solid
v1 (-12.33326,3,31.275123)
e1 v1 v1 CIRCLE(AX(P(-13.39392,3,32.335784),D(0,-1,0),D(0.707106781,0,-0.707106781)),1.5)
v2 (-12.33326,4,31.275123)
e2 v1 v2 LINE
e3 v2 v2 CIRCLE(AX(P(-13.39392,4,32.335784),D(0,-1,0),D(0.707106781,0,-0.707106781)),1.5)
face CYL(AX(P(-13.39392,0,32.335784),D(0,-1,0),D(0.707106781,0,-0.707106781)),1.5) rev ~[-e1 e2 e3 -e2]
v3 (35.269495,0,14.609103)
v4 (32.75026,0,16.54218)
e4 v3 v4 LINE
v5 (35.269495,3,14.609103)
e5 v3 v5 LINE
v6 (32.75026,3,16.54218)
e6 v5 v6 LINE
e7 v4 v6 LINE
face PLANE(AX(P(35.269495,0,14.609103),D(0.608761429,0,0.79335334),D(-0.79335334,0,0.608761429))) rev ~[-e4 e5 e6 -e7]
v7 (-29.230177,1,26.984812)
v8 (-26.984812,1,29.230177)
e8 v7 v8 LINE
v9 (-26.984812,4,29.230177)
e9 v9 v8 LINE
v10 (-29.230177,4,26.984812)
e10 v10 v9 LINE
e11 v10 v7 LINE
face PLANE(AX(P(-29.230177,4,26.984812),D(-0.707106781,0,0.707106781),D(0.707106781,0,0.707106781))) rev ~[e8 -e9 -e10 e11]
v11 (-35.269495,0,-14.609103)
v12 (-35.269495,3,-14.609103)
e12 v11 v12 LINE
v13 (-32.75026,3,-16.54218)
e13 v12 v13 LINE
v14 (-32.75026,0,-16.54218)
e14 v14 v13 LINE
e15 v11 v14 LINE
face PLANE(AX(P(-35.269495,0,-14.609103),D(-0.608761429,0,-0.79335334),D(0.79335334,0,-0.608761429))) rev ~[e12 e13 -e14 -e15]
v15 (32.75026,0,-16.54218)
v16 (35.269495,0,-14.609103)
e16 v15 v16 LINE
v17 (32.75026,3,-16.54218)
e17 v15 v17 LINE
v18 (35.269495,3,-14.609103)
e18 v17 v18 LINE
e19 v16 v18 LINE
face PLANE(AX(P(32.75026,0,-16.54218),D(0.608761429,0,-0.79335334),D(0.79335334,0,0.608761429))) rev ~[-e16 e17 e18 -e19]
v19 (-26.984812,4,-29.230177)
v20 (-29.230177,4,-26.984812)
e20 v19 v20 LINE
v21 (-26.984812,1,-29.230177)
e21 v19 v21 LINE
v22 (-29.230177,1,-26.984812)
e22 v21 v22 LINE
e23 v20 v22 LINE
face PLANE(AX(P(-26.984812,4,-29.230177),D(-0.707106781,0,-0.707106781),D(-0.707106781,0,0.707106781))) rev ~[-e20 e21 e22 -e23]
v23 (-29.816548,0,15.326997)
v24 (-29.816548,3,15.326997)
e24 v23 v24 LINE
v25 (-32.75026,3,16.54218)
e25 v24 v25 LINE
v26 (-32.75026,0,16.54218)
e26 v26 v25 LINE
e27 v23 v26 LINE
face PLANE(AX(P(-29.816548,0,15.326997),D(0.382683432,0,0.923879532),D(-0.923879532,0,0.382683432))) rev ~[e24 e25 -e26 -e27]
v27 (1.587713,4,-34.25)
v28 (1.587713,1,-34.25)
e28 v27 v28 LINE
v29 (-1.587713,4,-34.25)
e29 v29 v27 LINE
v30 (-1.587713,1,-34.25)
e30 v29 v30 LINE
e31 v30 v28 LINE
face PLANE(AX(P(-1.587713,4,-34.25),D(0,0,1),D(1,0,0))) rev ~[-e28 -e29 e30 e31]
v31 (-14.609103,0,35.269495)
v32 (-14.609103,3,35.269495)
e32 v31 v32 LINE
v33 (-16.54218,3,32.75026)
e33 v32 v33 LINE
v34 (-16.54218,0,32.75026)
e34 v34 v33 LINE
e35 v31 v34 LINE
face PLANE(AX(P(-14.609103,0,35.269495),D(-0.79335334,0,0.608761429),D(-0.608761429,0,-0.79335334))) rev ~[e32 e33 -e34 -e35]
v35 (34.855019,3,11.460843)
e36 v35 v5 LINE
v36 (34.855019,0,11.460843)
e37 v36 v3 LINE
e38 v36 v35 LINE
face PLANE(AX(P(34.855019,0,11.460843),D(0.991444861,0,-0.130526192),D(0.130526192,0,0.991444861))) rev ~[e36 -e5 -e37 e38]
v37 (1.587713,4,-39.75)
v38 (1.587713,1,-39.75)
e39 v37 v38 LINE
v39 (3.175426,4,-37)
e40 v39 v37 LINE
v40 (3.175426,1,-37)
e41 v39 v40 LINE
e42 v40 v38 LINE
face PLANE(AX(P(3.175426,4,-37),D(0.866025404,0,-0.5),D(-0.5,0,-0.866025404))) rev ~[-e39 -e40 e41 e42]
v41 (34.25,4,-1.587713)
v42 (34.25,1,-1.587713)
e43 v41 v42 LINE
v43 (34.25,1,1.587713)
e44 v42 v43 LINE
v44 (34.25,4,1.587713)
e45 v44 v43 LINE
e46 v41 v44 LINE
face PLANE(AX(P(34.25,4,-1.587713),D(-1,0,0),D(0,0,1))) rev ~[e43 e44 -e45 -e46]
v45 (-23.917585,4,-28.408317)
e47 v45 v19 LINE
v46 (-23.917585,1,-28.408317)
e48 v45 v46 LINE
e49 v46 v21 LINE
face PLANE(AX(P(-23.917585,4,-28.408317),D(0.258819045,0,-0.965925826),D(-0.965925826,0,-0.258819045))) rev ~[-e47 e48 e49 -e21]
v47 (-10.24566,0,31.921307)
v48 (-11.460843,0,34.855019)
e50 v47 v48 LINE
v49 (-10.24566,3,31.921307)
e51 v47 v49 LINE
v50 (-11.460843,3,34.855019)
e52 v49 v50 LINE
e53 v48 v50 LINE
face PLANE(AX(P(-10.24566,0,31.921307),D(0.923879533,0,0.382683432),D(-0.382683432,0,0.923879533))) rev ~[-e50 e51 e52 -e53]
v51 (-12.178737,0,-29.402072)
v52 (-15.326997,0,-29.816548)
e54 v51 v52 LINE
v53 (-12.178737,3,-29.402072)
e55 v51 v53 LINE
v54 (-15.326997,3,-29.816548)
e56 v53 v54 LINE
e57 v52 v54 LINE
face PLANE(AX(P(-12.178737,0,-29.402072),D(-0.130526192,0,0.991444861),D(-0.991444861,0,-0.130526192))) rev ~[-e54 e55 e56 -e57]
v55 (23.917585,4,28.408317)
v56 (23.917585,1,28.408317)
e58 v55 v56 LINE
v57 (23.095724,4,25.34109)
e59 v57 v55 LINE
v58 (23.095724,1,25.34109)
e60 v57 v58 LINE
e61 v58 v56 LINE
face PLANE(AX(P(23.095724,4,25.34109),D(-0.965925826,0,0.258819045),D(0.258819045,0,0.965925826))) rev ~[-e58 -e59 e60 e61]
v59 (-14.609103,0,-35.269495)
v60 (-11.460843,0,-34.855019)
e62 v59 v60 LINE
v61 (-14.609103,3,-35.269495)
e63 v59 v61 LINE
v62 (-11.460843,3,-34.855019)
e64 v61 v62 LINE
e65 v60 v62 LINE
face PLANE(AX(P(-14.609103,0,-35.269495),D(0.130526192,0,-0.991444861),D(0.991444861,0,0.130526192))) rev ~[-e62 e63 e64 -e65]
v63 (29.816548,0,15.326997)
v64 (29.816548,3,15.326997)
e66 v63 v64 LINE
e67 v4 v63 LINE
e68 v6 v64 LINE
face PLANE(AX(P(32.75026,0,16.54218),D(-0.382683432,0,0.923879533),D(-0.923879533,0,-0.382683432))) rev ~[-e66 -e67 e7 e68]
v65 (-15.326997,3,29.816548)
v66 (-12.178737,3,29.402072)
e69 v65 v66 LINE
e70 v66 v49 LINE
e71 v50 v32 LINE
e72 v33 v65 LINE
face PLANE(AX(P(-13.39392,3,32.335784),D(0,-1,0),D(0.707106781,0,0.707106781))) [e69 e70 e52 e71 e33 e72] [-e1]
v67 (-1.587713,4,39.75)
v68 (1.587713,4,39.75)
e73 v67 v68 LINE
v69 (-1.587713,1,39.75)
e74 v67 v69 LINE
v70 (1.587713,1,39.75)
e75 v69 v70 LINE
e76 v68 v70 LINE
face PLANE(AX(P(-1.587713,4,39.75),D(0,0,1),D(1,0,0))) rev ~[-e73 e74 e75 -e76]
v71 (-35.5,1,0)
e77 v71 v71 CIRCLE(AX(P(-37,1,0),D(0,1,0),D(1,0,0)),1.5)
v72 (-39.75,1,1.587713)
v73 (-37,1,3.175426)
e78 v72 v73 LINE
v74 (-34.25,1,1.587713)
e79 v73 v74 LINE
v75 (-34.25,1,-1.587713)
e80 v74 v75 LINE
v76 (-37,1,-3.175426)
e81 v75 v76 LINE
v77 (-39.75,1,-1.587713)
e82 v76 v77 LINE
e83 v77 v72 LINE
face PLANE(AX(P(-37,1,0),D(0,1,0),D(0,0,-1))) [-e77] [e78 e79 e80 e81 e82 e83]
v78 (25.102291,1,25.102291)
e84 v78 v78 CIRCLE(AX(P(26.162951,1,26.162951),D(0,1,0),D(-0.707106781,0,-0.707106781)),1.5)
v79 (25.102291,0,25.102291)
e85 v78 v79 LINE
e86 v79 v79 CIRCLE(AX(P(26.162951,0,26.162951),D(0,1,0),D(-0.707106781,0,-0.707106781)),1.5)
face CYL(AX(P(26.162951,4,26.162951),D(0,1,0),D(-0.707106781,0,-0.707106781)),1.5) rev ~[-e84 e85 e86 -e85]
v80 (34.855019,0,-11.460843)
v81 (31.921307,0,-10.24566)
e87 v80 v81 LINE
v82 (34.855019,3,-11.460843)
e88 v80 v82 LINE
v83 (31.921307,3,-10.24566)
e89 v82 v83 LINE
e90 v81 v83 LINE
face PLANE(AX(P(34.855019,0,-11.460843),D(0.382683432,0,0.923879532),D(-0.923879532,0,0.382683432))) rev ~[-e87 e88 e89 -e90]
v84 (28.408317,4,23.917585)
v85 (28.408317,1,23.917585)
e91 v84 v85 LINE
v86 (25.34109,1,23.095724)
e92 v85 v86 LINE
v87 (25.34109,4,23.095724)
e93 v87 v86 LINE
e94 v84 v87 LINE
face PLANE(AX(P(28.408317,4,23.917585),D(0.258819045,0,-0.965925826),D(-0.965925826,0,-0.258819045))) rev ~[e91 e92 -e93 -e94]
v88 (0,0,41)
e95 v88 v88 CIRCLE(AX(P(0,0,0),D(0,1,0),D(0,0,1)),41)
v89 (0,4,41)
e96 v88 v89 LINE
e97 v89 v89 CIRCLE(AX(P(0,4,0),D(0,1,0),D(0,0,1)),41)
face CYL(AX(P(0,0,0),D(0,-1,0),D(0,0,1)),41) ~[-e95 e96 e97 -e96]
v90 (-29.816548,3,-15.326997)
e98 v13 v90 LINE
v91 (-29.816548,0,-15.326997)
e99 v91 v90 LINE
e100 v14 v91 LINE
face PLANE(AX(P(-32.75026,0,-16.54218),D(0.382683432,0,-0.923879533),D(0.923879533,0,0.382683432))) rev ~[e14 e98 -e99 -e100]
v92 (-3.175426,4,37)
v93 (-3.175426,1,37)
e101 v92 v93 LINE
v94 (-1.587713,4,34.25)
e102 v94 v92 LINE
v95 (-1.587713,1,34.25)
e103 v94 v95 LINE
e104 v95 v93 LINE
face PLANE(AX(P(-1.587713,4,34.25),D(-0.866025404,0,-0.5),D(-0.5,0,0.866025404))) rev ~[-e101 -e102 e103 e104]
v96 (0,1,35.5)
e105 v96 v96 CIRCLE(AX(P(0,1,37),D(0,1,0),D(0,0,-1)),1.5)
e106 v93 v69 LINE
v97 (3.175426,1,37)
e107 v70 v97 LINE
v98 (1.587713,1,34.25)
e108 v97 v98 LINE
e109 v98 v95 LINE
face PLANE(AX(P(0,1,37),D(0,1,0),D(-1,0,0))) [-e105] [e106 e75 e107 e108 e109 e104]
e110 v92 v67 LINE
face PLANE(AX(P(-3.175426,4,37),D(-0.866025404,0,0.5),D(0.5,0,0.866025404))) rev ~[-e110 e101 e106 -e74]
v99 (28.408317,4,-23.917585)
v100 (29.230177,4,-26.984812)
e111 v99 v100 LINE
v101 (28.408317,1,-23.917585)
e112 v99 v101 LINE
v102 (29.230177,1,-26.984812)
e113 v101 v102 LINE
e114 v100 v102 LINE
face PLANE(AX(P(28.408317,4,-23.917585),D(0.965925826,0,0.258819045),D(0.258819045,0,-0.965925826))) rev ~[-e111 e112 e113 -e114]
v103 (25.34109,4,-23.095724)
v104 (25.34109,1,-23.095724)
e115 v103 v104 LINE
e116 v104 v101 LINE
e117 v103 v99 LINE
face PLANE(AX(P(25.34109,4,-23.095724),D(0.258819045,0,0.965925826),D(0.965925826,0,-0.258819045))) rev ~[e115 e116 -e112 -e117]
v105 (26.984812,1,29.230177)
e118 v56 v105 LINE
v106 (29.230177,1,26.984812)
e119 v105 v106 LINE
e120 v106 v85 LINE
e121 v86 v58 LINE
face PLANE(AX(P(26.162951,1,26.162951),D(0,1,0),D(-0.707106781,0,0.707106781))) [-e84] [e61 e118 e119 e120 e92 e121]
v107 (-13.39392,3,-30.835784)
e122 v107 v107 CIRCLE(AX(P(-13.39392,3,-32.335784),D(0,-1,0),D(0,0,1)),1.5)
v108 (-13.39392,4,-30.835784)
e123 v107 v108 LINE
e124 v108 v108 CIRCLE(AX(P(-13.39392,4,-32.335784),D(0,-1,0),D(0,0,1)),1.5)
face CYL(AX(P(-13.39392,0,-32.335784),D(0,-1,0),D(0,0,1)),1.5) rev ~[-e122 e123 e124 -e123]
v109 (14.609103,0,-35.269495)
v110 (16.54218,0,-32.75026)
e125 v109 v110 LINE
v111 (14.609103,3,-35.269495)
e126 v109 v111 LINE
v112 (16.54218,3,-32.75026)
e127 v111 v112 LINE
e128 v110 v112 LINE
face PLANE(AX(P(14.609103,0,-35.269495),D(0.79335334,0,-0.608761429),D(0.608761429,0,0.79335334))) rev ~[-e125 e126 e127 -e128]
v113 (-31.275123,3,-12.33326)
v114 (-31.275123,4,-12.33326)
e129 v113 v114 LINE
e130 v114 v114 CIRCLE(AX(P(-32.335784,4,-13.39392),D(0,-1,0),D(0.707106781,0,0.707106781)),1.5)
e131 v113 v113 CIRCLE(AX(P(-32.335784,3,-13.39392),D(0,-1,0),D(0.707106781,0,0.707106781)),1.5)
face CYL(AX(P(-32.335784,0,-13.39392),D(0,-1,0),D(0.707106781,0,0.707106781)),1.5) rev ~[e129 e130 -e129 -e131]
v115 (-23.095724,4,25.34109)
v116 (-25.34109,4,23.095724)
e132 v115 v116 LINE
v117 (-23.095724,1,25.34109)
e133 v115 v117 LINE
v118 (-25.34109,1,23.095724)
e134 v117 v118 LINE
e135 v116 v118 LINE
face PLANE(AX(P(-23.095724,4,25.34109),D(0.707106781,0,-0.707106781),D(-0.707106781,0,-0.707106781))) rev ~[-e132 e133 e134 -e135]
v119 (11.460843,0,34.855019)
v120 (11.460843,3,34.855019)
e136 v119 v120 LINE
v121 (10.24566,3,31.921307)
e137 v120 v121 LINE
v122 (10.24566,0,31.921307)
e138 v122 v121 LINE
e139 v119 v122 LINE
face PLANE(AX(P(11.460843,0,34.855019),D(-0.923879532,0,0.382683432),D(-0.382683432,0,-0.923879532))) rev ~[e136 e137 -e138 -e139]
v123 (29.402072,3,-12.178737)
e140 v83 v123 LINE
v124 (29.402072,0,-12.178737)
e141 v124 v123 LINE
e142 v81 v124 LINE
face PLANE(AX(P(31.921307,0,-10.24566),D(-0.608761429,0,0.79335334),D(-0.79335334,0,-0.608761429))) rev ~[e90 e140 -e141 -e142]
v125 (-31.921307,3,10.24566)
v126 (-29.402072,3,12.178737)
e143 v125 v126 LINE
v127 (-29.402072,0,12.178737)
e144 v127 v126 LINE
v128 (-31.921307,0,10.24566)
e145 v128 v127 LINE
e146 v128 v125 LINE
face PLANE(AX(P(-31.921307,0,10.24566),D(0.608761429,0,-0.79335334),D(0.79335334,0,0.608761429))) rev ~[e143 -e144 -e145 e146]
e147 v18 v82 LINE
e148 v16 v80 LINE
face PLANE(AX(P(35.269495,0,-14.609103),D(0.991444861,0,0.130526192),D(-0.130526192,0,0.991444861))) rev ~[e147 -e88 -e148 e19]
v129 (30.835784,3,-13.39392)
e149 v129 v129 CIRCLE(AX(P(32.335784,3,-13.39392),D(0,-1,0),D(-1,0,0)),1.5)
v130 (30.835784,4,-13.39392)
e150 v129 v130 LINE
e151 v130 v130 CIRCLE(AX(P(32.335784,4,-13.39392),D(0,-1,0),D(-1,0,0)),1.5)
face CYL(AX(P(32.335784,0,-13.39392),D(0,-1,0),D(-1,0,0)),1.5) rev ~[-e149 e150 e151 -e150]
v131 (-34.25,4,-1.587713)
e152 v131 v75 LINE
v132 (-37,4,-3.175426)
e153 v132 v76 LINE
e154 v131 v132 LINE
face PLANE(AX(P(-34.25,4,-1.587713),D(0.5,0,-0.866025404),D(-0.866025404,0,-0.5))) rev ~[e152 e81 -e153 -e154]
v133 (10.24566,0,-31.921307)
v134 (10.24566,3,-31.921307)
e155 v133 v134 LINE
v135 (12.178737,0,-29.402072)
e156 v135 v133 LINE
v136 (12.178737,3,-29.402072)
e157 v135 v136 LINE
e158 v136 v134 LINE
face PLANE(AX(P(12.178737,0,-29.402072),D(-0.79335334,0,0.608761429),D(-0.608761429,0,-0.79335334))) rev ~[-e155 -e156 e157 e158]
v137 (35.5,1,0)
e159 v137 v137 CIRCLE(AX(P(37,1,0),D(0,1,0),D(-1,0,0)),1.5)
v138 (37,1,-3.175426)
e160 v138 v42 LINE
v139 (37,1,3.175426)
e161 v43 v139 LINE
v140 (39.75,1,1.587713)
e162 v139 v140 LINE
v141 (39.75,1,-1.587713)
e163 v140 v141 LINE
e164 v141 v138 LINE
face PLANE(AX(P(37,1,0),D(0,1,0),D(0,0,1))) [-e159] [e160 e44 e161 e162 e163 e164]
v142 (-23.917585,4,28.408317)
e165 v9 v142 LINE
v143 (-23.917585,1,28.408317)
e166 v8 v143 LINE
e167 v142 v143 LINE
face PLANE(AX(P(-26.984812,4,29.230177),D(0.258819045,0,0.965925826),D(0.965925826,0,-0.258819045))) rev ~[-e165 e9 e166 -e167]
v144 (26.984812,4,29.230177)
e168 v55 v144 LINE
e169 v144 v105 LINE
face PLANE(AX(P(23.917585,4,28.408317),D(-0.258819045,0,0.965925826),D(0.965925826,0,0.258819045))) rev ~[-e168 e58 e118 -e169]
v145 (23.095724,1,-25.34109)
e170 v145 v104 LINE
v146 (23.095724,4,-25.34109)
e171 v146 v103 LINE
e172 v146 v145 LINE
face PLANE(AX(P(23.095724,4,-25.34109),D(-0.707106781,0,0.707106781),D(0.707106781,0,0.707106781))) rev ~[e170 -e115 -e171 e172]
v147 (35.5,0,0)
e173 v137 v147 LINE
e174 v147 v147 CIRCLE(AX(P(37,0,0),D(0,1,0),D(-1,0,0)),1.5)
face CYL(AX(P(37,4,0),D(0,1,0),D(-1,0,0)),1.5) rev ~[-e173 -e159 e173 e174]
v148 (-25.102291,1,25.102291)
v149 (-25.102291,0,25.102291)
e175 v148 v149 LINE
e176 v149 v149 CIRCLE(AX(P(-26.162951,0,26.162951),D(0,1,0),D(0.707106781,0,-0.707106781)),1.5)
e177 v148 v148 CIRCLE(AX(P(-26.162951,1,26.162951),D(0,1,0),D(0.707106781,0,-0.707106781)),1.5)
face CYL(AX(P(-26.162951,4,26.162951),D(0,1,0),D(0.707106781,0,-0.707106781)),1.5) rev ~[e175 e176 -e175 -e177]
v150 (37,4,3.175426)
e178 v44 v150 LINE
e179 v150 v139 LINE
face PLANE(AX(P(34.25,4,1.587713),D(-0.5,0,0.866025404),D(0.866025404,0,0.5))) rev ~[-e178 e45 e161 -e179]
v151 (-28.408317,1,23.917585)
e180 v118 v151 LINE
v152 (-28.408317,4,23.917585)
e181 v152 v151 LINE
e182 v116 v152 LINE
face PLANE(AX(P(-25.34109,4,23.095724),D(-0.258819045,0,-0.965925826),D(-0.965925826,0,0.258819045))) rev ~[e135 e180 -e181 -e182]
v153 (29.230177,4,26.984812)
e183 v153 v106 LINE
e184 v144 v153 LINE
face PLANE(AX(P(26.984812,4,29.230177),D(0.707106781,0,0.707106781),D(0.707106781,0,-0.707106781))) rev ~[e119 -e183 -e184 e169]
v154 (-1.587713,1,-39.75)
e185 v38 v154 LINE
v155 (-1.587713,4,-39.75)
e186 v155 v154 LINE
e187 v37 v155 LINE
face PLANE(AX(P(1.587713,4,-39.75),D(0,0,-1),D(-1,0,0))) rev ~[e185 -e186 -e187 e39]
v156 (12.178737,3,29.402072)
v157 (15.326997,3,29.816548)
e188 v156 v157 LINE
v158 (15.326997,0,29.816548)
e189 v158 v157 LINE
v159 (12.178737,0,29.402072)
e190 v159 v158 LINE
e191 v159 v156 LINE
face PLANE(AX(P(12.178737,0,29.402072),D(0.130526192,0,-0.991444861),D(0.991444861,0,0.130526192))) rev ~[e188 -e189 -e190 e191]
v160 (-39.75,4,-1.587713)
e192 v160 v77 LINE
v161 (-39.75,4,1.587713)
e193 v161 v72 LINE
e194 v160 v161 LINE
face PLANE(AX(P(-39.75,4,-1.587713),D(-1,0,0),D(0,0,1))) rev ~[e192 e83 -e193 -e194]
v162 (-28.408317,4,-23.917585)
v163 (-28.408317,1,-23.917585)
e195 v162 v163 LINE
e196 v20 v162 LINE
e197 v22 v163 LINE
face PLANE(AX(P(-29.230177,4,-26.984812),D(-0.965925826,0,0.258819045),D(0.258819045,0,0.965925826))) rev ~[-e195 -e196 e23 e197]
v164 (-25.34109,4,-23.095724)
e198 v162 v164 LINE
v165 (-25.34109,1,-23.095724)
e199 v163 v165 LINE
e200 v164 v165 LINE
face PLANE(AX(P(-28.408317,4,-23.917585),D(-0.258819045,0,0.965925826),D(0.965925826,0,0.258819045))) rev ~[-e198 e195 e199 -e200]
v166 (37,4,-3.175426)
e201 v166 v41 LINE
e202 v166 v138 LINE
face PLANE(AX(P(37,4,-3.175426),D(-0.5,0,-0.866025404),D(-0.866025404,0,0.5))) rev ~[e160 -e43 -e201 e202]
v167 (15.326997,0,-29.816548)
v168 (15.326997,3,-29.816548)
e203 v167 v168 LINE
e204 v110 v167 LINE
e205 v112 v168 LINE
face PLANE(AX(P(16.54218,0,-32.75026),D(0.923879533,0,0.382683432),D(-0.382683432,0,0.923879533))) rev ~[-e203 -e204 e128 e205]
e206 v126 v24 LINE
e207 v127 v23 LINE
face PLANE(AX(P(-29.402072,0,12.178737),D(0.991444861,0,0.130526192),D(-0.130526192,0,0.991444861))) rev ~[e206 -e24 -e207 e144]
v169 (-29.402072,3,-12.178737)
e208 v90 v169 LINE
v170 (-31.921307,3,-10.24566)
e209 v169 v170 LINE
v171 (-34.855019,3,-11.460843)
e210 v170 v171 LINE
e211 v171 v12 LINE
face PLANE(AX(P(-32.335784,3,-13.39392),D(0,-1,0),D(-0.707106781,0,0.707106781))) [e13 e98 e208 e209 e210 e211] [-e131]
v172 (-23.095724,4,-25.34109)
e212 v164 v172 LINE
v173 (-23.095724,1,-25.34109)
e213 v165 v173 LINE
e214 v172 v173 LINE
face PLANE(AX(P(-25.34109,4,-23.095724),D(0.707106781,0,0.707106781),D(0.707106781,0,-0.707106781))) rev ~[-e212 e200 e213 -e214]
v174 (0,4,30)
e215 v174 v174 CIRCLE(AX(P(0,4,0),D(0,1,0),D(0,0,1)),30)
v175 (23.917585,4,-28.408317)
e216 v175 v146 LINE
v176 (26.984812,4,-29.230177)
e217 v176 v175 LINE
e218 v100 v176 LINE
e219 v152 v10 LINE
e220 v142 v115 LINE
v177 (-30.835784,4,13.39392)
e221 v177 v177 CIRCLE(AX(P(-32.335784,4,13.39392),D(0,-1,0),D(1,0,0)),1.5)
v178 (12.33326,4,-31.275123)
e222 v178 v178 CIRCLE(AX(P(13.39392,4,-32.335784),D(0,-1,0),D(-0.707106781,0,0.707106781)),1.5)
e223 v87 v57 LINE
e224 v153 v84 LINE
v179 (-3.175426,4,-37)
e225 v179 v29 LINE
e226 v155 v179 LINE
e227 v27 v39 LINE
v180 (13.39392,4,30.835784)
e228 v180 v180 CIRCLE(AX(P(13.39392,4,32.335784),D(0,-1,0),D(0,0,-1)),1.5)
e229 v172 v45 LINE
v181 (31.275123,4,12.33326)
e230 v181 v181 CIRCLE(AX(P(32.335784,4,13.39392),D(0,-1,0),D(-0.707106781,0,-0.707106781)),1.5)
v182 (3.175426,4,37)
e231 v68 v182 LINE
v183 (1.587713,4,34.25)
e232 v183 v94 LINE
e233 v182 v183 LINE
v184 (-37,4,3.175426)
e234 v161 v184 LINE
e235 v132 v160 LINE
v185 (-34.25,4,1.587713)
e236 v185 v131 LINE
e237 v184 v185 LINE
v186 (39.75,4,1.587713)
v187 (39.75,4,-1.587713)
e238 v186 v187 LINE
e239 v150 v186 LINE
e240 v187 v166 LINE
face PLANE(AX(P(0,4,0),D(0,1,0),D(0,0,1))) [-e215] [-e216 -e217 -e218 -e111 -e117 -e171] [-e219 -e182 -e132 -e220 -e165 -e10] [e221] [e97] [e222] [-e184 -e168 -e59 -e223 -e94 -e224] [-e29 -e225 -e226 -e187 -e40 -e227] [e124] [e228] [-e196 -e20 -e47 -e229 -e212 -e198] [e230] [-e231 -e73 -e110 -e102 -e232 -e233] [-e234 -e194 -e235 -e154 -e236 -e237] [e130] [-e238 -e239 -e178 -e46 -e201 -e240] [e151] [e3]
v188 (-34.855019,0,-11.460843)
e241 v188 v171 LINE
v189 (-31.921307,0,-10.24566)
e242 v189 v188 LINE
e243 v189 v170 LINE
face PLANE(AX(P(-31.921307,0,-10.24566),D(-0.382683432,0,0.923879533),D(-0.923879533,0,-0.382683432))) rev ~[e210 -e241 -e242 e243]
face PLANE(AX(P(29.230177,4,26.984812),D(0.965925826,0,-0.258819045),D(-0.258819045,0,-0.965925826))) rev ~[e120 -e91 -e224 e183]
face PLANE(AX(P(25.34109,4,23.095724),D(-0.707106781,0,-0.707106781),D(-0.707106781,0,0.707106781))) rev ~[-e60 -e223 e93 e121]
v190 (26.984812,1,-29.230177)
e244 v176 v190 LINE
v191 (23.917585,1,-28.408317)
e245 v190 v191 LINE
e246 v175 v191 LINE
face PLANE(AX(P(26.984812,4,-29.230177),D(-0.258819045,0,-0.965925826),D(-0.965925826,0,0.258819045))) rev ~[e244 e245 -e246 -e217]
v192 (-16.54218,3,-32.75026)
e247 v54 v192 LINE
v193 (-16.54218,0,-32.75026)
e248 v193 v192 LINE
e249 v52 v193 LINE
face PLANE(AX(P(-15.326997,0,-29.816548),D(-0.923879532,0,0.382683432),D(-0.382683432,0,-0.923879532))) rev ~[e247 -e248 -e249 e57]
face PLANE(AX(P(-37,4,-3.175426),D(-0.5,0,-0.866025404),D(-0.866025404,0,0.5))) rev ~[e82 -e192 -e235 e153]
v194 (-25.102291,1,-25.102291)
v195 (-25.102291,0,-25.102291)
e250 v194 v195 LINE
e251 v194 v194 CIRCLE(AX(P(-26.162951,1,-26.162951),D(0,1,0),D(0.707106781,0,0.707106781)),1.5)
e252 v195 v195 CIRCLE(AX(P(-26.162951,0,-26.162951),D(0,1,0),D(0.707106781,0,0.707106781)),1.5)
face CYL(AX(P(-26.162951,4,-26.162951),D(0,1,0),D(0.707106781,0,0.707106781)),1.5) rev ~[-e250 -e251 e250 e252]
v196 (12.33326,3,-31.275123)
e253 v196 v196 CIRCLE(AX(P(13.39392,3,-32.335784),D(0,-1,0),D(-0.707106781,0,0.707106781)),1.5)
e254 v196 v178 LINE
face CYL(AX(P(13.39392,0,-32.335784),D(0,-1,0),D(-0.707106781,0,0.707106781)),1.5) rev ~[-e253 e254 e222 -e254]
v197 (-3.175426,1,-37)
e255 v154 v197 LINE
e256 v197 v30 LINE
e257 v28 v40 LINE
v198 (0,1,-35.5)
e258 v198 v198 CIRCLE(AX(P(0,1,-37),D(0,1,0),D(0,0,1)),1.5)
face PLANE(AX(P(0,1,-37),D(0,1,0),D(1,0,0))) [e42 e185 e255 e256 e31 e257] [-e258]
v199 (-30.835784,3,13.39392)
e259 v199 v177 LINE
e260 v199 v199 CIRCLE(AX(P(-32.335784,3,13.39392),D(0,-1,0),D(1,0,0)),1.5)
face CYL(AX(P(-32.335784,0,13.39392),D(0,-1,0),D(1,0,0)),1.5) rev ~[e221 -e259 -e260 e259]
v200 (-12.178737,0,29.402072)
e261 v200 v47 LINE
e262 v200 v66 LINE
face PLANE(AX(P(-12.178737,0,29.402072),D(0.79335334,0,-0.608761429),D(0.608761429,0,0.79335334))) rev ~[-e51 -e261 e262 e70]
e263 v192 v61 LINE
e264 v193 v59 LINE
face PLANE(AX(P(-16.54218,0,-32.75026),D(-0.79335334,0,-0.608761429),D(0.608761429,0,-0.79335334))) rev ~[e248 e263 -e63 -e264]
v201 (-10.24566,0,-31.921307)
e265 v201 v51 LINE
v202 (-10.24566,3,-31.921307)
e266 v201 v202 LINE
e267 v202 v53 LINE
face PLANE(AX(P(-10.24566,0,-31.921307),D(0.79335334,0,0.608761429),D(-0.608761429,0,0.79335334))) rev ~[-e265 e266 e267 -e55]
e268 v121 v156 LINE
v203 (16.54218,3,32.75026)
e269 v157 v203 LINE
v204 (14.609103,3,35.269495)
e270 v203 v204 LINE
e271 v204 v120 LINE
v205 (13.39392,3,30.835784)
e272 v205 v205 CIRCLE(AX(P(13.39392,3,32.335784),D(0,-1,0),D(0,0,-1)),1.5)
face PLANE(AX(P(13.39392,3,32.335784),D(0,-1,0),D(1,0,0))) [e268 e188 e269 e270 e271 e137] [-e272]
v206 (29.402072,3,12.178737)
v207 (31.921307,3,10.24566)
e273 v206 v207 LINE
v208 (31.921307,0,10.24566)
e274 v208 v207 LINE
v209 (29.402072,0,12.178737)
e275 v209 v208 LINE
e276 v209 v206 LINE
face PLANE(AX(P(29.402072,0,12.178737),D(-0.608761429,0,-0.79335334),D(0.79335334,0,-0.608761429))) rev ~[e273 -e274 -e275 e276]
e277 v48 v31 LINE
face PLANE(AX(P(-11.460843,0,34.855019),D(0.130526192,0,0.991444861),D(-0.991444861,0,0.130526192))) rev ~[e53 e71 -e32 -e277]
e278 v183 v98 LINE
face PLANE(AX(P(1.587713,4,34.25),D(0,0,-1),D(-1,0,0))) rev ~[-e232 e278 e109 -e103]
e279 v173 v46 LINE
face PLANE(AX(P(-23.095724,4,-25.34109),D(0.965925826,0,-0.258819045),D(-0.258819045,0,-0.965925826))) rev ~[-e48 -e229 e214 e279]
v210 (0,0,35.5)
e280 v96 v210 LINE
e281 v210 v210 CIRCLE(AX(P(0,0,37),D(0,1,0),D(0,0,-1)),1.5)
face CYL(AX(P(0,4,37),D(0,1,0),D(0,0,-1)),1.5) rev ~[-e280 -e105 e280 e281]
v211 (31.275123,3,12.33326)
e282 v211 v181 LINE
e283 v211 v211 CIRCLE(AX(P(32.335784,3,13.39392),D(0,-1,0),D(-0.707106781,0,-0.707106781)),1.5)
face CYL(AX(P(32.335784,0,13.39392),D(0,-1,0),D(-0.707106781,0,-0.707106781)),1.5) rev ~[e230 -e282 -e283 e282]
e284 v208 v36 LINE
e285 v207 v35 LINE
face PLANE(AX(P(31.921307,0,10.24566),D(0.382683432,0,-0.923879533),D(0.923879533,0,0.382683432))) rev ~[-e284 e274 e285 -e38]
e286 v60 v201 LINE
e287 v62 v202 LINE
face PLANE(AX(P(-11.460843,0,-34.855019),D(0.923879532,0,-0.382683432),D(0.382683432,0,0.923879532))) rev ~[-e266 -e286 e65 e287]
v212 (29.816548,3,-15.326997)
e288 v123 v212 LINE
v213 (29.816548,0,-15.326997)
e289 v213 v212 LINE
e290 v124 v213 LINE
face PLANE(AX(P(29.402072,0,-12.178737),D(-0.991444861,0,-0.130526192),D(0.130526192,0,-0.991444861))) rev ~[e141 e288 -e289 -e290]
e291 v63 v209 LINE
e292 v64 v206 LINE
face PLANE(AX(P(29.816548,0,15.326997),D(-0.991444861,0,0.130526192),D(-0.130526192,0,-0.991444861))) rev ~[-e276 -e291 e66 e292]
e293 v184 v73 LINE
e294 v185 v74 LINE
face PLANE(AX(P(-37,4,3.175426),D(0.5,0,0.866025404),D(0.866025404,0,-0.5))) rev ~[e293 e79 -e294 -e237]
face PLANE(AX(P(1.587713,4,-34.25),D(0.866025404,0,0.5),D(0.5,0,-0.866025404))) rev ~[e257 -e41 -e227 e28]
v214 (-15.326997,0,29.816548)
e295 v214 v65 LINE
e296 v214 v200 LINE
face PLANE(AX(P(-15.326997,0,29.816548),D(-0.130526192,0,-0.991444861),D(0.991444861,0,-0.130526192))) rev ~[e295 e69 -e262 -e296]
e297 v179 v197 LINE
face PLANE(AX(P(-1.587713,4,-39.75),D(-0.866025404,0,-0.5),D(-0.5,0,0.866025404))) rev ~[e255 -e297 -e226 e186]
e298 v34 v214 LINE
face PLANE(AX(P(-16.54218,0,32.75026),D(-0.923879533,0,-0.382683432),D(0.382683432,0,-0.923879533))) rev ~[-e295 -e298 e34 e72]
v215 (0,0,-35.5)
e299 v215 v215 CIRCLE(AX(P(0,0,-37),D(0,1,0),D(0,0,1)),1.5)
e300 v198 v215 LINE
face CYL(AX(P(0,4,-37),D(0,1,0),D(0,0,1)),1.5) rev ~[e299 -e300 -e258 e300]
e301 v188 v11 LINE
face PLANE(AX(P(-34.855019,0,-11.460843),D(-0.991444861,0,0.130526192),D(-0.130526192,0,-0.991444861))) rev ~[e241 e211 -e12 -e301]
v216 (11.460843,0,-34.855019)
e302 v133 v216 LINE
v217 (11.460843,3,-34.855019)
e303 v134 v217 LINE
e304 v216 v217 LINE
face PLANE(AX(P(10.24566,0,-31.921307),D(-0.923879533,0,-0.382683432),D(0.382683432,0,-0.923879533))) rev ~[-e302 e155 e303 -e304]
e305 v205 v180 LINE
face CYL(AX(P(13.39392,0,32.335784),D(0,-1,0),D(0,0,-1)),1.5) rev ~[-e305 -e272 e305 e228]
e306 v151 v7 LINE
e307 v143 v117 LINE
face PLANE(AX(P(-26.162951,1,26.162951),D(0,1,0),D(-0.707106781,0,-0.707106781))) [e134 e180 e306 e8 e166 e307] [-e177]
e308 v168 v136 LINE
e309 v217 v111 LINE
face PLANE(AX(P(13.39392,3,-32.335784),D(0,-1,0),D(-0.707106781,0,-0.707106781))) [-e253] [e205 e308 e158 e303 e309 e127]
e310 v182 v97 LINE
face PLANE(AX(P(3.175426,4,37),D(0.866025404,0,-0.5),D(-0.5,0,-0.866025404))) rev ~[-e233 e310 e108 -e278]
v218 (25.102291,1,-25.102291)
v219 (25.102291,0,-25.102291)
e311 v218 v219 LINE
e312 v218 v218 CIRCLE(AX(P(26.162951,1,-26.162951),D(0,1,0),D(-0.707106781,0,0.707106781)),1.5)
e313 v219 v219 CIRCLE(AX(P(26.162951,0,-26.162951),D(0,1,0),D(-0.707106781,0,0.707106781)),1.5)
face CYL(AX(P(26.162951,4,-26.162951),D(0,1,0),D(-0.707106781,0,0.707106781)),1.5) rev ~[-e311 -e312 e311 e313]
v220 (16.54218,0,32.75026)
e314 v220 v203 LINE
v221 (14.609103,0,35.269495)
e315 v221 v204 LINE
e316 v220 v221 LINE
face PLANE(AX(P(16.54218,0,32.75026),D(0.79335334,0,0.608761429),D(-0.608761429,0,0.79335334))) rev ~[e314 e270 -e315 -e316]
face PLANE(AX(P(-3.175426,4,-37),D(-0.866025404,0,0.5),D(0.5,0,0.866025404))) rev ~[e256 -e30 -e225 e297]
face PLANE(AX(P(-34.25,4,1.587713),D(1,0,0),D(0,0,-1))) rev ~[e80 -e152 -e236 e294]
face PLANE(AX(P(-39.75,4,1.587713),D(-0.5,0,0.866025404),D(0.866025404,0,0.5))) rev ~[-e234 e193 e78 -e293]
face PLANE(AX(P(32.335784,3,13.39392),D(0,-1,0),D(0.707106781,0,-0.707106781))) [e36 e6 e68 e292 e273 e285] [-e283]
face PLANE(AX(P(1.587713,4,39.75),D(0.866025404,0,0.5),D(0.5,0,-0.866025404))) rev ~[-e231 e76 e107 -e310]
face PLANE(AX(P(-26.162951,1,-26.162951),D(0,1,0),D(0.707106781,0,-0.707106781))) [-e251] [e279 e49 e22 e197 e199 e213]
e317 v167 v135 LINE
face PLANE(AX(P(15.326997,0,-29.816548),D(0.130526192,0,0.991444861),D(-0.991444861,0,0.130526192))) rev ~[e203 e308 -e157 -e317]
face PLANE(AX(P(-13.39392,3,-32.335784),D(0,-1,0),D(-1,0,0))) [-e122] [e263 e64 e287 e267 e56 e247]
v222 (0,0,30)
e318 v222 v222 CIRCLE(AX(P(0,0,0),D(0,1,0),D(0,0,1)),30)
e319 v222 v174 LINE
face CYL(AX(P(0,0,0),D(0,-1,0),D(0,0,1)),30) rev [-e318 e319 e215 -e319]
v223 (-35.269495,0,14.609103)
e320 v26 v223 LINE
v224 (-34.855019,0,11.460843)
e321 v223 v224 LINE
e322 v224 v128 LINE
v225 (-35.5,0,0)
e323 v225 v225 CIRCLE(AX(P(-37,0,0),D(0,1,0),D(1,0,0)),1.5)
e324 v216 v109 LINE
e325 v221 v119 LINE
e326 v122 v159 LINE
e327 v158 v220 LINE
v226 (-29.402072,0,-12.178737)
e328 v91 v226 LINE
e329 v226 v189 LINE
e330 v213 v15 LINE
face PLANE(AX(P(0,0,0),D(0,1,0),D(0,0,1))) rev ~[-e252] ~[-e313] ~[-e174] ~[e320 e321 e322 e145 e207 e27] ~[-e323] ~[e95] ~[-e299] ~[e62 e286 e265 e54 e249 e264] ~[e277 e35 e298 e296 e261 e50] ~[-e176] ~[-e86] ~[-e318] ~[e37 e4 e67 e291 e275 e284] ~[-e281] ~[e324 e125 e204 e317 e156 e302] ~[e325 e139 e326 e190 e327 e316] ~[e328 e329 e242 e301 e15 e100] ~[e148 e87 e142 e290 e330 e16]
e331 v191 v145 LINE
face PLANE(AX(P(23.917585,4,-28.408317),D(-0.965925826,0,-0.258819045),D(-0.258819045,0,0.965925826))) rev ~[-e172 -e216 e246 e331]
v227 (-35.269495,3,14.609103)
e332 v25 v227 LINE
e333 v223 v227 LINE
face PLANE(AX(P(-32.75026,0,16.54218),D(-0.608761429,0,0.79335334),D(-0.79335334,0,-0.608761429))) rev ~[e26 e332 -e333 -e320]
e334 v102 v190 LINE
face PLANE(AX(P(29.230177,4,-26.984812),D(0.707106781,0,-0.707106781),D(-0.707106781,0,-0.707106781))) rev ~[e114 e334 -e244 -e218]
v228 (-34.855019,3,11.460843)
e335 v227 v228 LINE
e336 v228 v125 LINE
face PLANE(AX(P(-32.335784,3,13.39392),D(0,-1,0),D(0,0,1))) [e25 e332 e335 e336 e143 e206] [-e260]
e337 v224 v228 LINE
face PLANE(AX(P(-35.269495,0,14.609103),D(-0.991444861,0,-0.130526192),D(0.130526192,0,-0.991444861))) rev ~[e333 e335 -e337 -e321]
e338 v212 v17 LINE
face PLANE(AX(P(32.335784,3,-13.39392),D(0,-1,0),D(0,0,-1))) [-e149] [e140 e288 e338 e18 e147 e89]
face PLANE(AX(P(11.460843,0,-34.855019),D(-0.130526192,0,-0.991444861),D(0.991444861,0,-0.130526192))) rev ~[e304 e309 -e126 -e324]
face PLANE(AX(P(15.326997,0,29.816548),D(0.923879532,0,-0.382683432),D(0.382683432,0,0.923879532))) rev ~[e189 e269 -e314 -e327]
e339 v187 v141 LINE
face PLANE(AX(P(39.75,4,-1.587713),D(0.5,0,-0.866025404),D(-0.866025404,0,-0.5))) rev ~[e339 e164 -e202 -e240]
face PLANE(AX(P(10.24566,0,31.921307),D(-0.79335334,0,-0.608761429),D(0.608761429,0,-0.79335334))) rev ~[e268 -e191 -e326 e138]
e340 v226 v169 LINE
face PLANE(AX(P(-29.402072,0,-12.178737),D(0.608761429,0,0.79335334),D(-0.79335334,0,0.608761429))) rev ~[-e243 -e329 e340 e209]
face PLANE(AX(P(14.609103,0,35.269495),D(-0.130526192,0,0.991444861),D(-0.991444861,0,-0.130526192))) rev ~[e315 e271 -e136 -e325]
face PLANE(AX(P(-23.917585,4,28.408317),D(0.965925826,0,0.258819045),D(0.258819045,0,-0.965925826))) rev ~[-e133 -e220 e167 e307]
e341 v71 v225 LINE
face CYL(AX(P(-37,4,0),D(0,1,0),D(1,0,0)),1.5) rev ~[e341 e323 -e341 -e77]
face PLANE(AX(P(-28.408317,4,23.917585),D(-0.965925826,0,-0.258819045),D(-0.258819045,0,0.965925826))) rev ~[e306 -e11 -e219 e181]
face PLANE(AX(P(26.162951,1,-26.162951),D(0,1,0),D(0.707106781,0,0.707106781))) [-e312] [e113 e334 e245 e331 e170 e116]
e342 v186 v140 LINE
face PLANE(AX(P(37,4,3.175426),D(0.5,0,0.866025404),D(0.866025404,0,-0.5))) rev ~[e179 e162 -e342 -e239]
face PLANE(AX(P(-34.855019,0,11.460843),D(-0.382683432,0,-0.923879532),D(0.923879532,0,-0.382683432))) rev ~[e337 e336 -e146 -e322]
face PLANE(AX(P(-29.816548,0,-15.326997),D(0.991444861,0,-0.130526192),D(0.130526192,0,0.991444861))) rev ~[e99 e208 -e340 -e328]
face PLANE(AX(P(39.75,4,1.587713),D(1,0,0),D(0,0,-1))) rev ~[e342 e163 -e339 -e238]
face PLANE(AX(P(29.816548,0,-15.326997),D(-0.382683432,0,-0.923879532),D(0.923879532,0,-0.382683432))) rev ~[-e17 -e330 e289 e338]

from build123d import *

# Parameters (mm, degrees)
SKETCH_2_R               = 41
SKETCH_2_R_2             = 30
EXTRUDE_1_DEPTH          = 4
SKETCH_3_R               = 1.5
CUT_EXTRUDE_1_DEPTH      = 59.120564347
CUT_EXTRUDE_2_DEPTH      = 3
PATTERN_CIRCULAR_1_COUNT = 24
SKETCH_5_R               = 1.5
CUT_EXTRUDE_3_DEPTH      = 59.120564347
CUT_EXTRUDE_4_DEPTH      = 3
PATTERN_CIRCULAR_2_COUNT = 24


with BuildPart() as part:
    # 草图2 → 凸台-拉伸1 (new body)
    with BuildSketch(Plane(origin=(0, 0, 0), x_dir=(1, 0, 0), z_dir=(0, 1, 0))):
        with Locations(Location((0, 0, 0), (0, 0, 270))):
            Circle(SKETCH_2_R)
        with Locations(Location((0, 0, 0), (0, 0, 270))):
            Circle(SKETCH_2_R_2, mode=Mode.SUBTRACT)
    extrude(amount=EXTRUDE_1_DEPTH)

    # 草图3 → 切除-拉伸1 (cut, through all)
    with BuildSketch(Plane(origin=(0, 4, 0), x_dir=(1, 0, 0), z_dir=(0, 1, 0))):
        with Locations(Location((0, 37, 0), (0, 0, 270))):
            Circle(SKETCH_3_R)
    cut_extrude_1 = extrude(amount=-CUT_EXTRUDE_1_DEPTH, mode=Mode.SUBTRACT)

    # 草图4 → 切除-拉伸2 (cut)
    with BuildSketch(Plane(origin=(0, 4, 0), x_dir=(1, 0, 0), z_dir=(0, 1, 0))):
        Polygon((3.175426481, 37), (1.58771324, 39.75), (-1.58771324, 39.75), (-3.175426481, 37), (-1.58771324, 34.25), (1.58771324, 34.25), align=None)
    cut_extrude_2 = extrude(amount=-CUT_EXTRUDE_2_DEPTH, mode=Mode.SUBTRACT)

    # 阵列(圆周)1: 切除-拉伸1, 切除-拉伸2 ×24 about axis, 16 skipped
    pattern_circular_1_axis = Axis((0, 4, 0), (0, 1, 0))
    add([cut_extrude_1.rotate(pattern_circular_1_axis, i * 360 / PATTERN_CIRCULAR_1_COUNT) for i in range(1, PATTERN_CIRCULAR_1_COUNT) if i not in (1, 2, 4, 5, 7, 8, 10, 11, 13, 14, 16, 17, 19, 20, 22, 23)], mode=Mode.SUBTRACT)
    add([cut_extrude_2.rotate(pattern_circular_1_axis, i * 360 / PATTERN_CIRCULAR_1_COUNT) for i in range(1, PATTERN_CIRCULAR_1_COUNT) if i not in (1, 2, 4, 5, 7, 8, 10, 11, 13, 14, 16, 17, 19, 20, 22, 23)], mode=Mode.SUBTRACT)

    # 草图5 → 切除-拉伸3 (cut, through all)
    with BuildSketch(Plane.XZ):
        with Locations(Location((13.393920133, 32.335783638, 0), (0, 0, 270))):
            Circle(SKETCH_5_R)
    cut_extrude_3 = extrude(amount=-CUT_EXTRUDE_3_DEPTH, mode=Mode.SUBTRACT)

    # 草图6 → 切除-拉伸4 (cut)
    with BuildSketch(Plane.XZ):
        Polygon((12.178737028, 29.402072106), (15.326997295, 29.816548433), (16.5421804, 32.750259965), (14.609103238, 35.26949517), (11.460842971, 34.855018843), (10.245659866, 31.921307311), align=None)
    cut_extrude_4 = extrude(amount=-CUT_EXTRUDE_4_DEPTH, mode=Mode.SUBTRACT)

    # 阵列(圆周)2: 切除-拉伸3, 切除-拉伸4 ×24 about axis, 16 skipped
    pattern_circular_2_axis = Axis((0, 0, 0), (0, 1, 0))
    add([cut_extrude_3.rotate(pattern_circular_2_axis, i * 360 / PATTERN_CIRCULAR_2_COUNT) for i in range(1, PATTERN_CIRCULAR_2_COUNT) if i not in (1, 2, 4, 5, 7, 8, 10, 11, 13, 14, 16, 17, 19, 20, 22, 23)], mode=Mode.SUBTRACT)
    add([cut_extrude_4.rotate(pattern_circular_2_axis, i * 360 / PATTERN_CIRCULAR_2_COUNT) for i in range(1, PATTERN_CIRCULAR_2_COUNT) if i not in (1, 2, 4, 5, 7, 8, 10, 11, 13, 14, 16, 17, 19, 20, 22, 23)], mode=Mode.SUBTRACT)


solid = part.part
